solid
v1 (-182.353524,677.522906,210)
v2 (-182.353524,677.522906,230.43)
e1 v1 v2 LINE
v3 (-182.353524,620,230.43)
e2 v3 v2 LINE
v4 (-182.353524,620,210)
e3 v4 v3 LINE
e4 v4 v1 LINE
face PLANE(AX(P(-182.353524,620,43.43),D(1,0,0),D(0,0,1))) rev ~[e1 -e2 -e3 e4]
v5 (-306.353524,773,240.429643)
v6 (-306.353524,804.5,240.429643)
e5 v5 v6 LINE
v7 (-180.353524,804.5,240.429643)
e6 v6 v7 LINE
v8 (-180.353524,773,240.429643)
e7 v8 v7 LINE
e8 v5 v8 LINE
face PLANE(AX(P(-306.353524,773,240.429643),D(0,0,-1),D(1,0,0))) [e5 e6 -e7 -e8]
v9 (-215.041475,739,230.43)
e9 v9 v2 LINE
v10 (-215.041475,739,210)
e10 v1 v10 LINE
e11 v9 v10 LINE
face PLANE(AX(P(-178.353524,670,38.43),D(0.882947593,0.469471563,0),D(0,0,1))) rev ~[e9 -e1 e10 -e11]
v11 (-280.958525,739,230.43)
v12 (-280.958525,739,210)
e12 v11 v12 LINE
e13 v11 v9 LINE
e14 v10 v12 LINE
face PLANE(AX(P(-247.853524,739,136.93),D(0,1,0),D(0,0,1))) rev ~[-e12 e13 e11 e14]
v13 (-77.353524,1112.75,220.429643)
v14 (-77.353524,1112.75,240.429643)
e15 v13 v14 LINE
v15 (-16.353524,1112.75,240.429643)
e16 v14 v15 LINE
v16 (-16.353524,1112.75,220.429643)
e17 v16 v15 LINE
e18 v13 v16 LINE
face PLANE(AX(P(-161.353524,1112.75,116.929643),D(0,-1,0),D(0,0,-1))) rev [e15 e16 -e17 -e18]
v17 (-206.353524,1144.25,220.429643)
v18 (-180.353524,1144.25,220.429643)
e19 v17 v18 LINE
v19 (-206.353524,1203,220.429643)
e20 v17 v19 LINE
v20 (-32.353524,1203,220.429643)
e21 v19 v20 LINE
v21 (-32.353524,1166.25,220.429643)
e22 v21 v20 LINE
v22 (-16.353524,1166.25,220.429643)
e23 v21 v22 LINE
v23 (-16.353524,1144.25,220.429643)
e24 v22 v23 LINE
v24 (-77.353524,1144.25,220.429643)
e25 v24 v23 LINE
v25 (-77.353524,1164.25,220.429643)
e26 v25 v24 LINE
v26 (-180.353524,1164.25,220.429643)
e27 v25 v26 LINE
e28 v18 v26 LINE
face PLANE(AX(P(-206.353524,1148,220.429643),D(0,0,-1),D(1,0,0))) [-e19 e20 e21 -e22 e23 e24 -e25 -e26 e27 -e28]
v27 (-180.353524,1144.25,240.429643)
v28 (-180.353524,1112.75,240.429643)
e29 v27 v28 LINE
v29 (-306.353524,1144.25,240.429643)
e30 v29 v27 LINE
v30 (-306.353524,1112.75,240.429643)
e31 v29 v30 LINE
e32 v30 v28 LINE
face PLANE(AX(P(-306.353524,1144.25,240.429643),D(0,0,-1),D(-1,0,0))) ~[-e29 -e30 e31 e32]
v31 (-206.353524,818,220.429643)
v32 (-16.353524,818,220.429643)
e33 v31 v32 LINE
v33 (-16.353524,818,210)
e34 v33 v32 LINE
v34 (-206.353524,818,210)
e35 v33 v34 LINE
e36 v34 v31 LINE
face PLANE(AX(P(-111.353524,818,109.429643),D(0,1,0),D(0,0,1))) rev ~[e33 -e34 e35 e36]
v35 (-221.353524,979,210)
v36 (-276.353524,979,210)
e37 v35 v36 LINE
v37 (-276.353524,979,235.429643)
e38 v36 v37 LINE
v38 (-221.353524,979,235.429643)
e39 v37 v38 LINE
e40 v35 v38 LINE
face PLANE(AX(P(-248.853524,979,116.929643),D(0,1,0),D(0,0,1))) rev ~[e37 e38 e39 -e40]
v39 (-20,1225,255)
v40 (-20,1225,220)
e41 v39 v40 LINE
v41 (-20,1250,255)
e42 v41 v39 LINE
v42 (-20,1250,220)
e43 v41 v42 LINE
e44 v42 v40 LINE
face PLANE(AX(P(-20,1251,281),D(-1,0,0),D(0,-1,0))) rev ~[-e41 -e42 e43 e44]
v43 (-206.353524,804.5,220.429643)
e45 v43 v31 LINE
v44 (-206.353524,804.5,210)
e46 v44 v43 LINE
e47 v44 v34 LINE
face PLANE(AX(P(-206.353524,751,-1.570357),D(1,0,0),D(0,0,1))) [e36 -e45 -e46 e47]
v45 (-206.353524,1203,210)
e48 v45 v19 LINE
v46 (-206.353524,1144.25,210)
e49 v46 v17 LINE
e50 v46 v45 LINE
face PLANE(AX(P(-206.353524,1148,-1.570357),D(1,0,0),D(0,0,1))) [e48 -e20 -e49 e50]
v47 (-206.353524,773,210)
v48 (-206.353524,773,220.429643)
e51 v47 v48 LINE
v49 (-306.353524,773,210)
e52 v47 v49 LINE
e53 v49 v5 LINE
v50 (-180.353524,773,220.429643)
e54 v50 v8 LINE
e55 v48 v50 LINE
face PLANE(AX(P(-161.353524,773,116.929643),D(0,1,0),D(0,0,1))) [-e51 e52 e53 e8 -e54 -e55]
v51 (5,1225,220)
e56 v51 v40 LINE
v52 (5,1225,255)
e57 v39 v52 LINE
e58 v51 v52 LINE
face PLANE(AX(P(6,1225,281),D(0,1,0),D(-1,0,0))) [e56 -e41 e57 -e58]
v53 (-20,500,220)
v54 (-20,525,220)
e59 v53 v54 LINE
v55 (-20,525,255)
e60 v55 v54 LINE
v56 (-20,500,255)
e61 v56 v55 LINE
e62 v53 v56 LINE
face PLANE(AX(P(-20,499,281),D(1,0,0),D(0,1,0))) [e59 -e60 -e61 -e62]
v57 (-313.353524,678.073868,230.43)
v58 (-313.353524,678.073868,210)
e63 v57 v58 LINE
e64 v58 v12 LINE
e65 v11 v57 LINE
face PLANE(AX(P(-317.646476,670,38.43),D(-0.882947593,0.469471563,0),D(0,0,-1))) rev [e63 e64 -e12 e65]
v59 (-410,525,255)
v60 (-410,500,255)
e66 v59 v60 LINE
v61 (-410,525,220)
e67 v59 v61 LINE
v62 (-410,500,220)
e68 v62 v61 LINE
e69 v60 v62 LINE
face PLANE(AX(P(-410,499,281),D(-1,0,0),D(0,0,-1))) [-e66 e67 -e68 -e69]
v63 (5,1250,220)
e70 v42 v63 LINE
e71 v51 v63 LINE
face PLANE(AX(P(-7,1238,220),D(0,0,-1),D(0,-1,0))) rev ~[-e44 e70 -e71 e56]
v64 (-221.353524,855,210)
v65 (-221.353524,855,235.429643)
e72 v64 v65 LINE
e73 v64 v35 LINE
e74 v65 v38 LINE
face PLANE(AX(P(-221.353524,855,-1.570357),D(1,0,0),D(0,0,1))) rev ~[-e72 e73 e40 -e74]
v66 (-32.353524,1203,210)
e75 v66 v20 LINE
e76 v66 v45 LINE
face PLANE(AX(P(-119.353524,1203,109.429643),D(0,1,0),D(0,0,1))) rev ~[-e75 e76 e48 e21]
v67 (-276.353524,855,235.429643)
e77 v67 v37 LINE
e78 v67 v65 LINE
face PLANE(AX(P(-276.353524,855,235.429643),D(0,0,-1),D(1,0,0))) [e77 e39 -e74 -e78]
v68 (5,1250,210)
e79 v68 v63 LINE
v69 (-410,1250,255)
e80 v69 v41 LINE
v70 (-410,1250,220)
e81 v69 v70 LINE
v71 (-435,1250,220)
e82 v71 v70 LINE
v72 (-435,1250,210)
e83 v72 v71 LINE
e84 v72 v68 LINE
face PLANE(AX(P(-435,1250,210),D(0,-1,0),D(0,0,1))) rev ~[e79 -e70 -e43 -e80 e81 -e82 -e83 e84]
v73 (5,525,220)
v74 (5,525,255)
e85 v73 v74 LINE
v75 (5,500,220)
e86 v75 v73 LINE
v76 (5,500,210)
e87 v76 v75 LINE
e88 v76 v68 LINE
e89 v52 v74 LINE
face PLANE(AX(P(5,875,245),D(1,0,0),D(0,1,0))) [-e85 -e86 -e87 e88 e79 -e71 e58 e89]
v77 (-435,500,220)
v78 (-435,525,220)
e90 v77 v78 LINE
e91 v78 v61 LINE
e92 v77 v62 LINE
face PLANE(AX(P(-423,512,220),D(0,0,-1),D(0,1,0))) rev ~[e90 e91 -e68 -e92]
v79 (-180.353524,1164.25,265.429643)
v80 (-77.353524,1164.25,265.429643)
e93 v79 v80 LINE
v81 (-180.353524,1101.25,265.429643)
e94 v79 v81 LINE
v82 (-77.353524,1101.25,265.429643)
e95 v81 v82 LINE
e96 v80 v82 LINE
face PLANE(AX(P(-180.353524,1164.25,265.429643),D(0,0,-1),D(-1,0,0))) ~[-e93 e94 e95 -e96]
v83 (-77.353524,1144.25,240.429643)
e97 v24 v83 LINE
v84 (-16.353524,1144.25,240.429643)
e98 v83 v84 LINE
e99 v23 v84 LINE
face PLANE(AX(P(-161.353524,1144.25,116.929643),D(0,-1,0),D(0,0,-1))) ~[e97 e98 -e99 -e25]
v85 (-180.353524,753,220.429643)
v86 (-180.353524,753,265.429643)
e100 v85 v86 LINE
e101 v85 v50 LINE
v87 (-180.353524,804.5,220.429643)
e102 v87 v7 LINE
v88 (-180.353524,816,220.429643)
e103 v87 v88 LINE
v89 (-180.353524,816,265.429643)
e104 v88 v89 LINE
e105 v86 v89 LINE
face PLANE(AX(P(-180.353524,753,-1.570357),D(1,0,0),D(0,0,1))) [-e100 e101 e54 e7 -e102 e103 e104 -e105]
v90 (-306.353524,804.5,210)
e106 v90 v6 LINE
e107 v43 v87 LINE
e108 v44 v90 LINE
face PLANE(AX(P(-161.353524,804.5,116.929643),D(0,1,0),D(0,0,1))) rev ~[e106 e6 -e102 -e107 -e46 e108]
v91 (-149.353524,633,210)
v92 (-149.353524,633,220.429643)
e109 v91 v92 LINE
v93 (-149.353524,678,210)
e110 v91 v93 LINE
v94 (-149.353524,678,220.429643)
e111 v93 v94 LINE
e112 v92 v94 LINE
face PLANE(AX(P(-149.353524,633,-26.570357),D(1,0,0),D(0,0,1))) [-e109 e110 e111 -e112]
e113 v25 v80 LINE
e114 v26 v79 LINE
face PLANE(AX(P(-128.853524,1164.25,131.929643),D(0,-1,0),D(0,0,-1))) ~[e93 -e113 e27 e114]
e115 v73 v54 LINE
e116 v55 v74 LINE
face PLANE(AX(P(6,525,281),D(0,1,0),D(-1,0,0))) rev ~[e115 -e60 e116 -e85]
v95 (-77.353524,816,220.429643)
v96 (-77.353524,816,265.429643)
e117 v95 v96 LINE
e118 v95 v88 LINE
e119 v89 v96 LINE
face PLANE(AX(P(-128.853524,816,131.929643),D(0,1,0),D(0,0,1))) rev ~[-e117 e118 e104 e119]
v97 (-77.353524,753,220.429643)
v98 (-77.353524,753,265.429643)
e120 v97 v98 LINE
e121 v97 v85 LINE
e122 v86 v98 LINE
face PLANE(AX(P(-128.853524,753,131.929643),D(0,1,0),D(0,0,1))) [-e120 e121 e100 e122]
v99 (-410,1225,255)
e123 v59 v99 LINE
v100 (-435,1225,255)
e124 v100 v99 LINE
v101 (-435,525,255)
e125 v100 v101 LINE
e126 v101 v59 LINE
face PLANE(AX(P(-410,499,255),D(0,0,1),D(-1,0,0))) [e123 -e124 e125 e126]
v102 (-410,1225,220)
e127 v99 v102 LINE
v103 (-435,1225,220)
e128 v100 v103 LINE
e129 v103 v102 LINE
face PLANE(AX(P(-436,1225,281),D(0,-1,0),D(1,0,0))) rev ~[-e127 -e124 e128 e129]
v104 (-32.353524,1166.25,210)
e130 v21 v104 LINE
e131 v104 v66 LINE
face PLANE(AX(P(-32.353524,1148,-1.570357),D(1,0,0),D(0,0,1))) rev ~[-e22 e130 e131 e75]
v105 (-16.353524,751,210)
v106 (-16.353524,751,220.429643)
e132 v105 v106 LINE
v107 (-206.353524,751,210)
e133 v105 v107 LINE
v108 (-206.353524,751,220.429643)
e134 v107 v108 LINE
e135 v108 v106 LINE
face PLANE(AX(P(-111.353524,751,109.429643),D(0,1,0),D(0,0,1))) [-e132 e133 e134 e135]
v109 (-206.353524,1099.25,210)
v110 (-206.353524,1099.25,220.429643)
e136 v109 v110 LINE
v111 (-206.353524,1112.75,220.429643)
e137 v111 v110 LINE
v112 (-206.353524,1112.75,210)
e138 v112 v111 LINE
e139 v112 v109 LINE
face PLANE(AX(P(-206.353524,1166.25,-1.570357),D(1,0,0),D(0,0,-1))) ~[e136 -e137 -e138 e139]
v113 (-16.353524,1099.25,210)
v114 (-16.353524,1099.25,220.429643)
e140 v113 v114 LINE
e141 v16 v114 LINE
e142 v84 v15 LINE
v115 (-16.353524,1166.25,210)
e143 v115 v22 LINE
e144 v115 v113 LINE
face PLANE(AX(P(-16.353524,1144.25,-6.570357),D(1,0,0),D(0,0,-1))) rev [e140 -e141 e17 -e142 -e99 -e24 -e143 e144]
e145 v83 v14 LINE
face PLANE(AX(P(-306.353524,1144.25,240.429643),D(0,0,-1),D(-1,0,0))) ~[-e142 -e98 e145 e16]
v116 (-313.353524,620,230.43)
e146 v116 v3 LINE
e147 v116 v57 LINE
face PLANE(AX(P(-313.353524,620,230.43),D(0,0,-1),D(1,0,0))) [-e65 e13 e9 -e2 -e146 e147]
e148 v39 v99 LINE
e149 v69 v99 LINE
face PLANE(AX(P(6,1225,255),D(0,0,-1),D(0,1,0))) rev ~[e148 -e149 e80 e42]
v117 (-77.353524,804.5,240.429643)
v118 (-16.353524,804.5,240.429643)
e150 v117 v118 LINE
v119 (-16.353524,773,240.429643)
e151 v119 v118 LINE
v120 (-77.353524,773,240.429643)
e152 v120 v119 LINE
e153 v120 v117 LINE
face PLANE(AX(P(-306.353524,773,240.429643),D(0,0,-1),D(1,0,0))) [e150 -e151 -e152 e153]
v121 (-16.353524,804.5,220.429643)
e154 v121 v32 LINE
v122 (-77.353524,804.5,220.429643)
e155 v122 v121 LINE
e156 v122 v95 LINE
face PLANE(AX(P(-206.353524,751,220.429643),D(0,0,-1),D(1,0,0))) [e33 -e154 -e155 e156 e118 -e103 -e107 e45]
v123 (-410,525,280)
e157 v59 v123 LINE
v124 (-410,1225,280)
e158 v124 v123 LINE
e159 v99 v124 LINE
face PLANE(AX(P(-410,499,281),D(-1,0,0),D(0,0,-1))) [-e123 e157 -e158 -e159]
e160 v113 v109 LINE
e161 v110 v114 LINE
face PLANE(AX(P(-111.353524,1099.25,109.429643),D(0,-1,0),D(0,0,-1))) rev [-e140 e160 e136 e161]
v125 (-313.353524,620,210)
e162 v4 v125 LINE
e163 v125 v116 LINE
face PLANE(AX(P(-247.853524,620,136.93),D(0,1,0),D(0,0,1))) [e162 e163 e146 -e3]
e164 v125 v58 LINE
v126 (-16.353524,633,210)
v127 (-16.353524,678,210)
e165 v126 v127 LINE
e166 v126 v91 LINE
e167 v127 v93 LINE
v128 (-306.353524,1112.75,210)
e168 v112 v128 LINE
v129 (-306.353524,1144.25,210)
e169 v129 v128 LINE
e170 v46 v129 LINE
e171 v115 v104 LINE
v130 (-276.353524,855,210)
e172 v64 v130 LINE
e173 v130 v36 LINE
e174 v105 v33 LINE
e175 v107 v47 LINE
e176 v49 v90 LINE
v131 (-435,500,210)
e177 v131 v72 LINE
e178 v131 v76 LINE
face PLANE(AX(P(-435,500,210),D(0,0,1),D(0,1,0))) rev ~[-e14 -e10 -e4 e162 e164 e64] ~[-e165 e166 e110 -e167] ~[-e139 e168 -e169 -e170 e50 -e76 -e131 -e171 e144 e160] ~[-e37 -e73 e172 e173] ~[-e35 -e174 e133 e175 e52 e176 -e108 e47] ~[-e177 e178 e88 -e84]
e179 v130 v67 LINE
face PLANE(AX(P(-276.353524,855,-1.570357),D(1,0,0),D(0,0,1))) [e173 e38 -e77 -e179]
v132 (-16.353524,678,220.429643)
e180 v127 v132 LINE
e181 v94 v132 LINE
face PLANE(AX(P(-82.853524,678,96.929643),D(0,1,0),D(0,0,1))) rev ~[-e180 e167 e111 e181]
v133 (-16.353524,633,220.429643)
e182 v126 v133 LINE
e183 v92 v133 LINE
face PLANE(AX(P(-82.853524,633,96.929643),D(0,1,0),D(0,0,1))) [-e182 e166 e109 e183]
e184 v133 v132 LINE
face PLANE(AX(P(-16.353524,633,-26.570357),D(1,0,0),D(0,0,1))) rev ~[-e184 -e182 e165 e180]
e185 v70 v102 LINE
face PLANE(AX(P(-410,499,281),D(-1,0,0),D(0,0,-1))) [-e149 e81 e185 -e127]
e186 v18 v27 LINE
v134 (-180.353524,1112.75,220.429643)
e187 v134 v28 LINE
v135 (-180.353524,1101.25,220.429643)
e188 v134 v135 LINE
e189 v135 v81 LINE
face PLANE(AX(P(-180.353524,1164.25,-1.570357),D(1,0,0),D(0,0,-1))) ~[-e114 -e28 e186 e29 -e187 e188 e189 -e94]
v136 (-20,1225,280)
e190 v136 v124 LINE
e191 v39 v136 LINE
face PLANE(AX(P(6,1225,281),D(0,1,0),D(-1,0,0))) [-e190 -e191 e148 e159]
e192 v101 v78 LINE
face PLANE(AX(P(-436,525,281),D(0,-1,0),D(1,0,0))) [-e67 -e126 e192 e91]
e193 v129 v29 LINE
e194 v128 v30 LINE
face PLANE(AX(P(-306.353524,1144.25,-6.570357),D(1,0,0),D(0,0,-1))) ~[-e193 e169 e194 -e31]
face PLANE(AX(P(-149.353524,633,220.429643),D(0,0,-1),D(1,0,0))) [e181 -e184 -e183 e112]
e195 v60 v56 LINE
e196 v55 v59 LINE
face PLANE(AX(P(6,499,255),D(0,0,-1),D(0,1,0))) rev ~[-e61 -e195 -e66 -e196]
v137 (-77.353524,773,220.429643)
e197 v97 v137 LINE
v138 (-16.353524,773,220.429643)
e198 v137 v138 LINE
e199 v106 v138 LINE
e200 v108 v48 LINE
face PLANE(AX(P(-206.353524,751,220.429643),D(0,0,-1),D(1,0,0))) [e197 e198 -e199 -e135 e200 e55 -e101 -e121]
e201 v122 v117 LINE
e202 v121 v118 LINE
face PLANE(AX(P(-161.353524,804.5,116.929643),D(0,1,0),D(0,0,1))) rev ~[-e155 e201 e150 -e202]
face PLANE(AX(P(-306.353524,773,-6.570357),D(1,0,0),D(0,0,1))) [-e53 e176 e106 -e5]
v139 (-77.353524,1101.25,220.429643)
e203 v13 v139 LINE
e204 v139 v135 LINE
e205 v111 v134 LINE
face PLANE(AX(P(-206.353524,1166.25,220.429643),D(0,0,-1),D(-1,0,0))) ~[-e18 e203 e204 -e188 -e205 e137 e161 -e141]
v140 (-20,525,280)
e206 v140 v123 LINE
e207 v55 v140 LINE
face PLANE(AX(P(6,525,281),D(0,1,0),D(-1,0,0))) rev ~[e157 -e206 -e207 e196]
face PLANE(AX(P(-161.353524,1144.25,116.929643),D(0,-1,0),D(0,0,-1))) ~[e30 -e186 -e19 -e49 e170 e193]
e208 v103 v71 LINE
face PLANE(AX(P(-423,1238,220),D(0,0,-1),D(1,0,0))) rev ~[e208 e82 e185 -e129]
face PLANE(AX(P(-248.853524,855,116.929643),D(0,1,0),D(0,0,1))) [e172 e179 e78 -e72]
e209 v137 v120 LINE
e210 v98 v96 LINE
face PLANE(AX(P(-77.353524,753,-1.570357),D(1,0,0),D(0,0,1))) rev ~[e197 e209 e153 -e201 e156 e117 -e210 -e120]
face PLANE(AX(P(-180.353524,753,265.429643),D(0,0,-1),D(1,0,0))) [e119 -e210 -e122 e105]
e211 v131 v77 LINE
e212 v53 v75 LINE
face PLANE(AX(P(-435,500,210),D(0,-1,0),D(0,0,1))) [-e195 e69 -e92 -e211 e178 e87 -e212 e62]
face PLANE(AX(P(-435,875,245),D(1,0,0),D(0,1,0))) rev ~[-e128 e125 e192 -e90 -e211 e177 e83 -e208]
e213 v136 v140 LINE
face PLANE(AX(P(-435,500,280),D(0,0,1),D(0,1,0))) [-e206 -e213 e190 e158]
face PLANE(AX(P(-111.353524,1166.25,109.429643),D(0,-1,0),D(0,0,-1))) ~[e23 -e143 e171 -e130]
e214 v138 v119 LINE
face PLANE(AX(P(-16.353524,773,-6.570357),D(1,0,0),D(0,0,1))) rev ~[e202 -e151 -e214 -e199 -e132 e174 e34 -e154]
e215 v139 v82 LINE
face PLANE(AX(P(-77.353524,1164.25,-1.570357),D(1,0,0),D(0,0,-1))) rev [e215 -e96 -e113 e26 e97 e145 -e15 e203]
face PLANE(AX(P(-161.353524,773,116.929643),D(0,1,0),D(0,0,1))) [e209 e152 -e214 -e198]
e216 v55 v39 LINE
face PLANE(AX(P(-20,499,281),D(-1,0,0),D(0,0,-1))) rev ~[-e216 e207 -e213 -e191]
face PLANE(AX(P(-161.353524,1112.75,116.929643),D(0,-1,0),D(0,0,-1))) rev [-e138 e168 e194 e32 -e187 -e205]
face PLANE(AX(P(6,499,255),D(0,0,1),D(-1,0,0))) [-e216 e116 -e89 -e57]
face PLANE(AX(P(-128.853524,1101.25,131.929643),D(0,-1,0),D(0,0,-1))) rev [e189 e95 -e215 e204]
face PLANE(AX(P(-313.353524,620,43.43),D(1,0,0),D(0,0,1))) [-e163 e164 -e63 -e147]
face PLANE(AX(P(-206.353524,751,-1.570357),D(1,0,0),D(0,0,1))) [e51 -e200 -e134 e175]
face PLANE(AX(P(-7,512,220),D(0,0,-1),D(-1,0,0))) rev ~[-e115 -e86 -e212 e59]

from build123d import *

# Parameters (mm, degrees)
BOX160_W                  = 26
BOX160_H                  = 26
BOX160_DEPTH              = 61
BOX161_W                  = 26
BOX161_H                  = 26
BOX161_DEPTH              = 61
BOX162_W                  = 26
BOX162_H                  = 26
BOX162_DEPTH              = 61
BOX163_W                  = 26
BOX163_H                  = 26
BOX163_DEPTH              = 61
BOX164_W                  = 26
BOX164_H                  = 26
BOX164_DEPTH              = 442
BOX165_W                  = 26
BOX165_H                  = 26
BOX165_DEPTH              = 442
BOX166_W                  = 26
BOX166_H                  = 26
BOX166_DEPTH              = 752
BOX167_W                  = 26
BOX167_H                  = 26
BOX167_DEPTH              = 752
FUSION056_PLACEMENT_ANGLE = 180
BOX129_W                  = 247
BOX129_H                  = 133
BOX129_DEPTH              = 45
BOX123_W                  = 205
BOX123_H                  = 131
BOX123_DEPTH              = 119
BOX123_ROLL_ANGLE         = 118
BOX123_PLACEMENT_ANGLE    = 180
BOX122_W                  = 187
BOX122_H                  = 131
BOX122_DEPTH              = 119
BOX099_W                  = 222
BOX099_H                  = 190
BOX099_DEPTH              = 67
BOX100_W                  = 247
BOX100_H                  = 290
BOX100_DEPTH              = 31.5
BOX098_W                  = 267
BOX098_H                  = 103
BOX098_DEPTH              = 63
BOX128_W                  = 222
BOX128_H                  = 174
BOX128_DEPTH              = 55
BOX114_W                  = 222
BOX114_H                  = 190
BOX114_DEPTH              = 67
BOX115_W                  = 247
BOX115_H                  = 290
BOX115_DEPTH              = 31.5
BOX113_W                  = 267
BOX113_H                  = 103
BOX113_DEPTH              = 63
BOX120_W                  = 237
BOX120_H                  = 55
BOX120_DEPTH              = 124
BOX130_W                  = 750
BOX130_H                  = 70
BOX130_DEPTH              = 440
CUT025_PLACEMENT_ANGLE    = 90


with BuildPart() as cube120:
    # Box160 → Box160 (new body)
    with BuildSketch(Plane(origin=(238, -256, -232), x_dir=(0, 0, 1), z_dir=(-1, 0, 0))):
        with Locations((13, 13)):
            Rectangle(BOX160_W, BOX160_H)
    extrude(amount=BOX160_DEPTH)


with BuildPart() as cube121:
    # Box161 → Box161 (new body)
    with BuildSketch(Plane(origin=(238, -256, 210), x_dir=(0, 1, 0), z_dir=(-1, 0, 0))):
        with Locations((13, 13)):
            Rectangle(BOX161_W, BOX161_H)
    extrude(amount=BOX161_DEPTH)


with BuildPart() as cube122:
    # Box162 → Box162 (new body)
    with BuildSketch(Plane(origin=(238, 496, -232), x_dir=(0, -1, 0), z_dir=(-1, 0, 0))):
        with Locations((13, 13)):
            Rectangle(BOX162_W, BOX162_H)
    extrude(amount=BOX162_DEPTH)


with BuildPart() as cube123:
    # Box163 → Box163 (new body)
    with BuildSketch(Plane(origin=(238, 496, 210), x_dir=(0, 0, -1), z_dir=(-1, 0, 0))):
        with Locations((13, 13)):
            Rectangle(BOX163_W, BOX163_H)
    extrude(amount=BOX163_DEPTH)


with BuildPart() as cube124:
    # Box164 → Box164 (new body)
    with BuildSketch(Plane(origin=(238, 496, 210), x_dir=(0, -1, 0), z_dir=(0, 0, -1))):
        with Locations((13, 13)):
            Rectangle(BOX164_W, BOX164_H)
    extrude(amount=BOX164_DEPTH)


with BuildPart() as cube125:
    # Box165 → Box165 (new body)
    with BuildSketch(Plane(origin=(238, -230, 210), x_dir=(0, -1, 0), z_dir=(0, 0, -1))):
        with Locations((13, 13)):
            Rectangle(BOX165_W, BOX165_H)
    extrude(amount=BOX165_DEPTH)


with BuildPart() as cube126:
    # Box166 → Box166 (new body)
    with BuildSketch(Plane(origin=(238, 496, 210), x_dir=(-1, 0, 0), z_dir=(0, -1, 0))):
        with Locations((13, 13)):
            Rectangle(BOX166_W, BOX166_H)
    extrude(amount=BOX166_DEPTH)


with BuildPart() as supportbeams001:
    # Box167 → Box167 (new body)
    with BuildSketch(Plane(origin=(238, 496, -206), x_dir=(-1, 0, 0), z_dir=(0, -1, 0))):
        with Locations((13, 13)):
            Rectangle(BOX167_W, BOX167_H)
    extrude(amount=BOX167_DEPTH)

    # Fusion056: union Cube120, Cube121, Cube122, Cube123, Cube124, Cube125, Cube126
    add(cube120.part)
    add(cube121.part)
    add(cube122.part)
    add(cube123.part)
    add(cube124.part)
    add(cube125.part)
    add(cube126.part)


with BuildPart() as supportbeams001_1:
    # Fusion056 placement: moved
    add(supportbeams001.part.moved(Location((172, 240, 0))).rotate(Axis((172, 240, 0), (0, 0, 1)), FUSION056_PLACEMENT_ANGLE))


with BuildPart() as f_120_envelope007:
    # Box129 → Box129 (new body)
    with BuildSketch(Plane(origin=(241.570357, -122, 54.646476), x_dir=(-1, 0, 0), z_dir=(0, 1, 0))):
        with Locations((123.5, 66.5)):
            Rectangle(BOX129_W, BOX129_H)
    extrude(amount=BOX129_DEPTH)


with BuildPart() as pocket009:
    # Box123 → Box123 (new body)
    with BuildSketch(Plane.XY):
        with Locations((102.5, 65.5)):
            Rectangle(BOX123_W, BOX123_H)
    extrude(amount=BOX123_DEPTH)


with BuildPart() as pocket009_1:
    # Box123 roll: moved
    add(pocket009.part.rotate(Axis((0, 0, 0), (1, 0, 0)), BOX123_ROLL_ANGLE))


with BuildPart() as pocket009_2:
    # Box123 placement: moved
    add(pocket009_1.part.moved(Location((141.57, -85, 25.646476))).rotate(Axis((141.57, -85, 25.646476), (0, 0, 1)), BOX123_PLACEMENT_ANGLE))


with BuildPart() as compound014:
    # Part__Mirroring003: instance of pocket009
    add(pocket009_2.part.mirror(Plane(origin=(0, 0, 0), x_dir=(0, 1, 0), z_dir=(0, 0, 1))))


with BuildPart() as compound014_1:
    # Compound014 placement: moved
    add(compound014.part.moved(Location((0, 0, -88))))


with BuildPart() as fusion043:
    # Fusion043 base: copy of pocket009
    add(pocket009_2.part)

    # Fusion043: union Compound014
    add(compound014_1.part)


with BuildPart() as prism002:
    # Box122 → Box122 (new body)
    with BuildSketch(Plane(origin=(136.57, -135, -109.353524), x_dir=(-1, 0, 0), z_dir=(0, 1, 0))):
        with Locations((93.5, 65.5)):
            Rectangle(BOX122_W, BOX122_H)
    extrude(amount=BOX122_DEPTH)

    # Cut020: cut Fusion043
    add(fusion043.part, mode=Mode.SUBTRACT)


with BuildPart() as prism002_1:
    # Cut020 placement: moved
    add(prism002.part.moved(Location((35, 0, 0))))


with BuildPart() as cube073:
    # Box099 → Box099 (new body)
    with BuildSketch(Plane(origin=(216.570357, -4, -2.353524), x_dir=(-1, 0, 0), z_dir=(0, 1, 0))):
        with Locations((111, 95)):
            Rectangle(BOX099_W, BOX099_H)
    extrude(amount=BOX099_DEPTH)


with BuildPart() as cube074:
    # Box100 → Box100 (new body)
    with BuildSketch(Plane(origin=(221.570357, 18, -102.353524), x_dir=(-1, 0, 0), z_dir=(0, 1, 0))):
        with Locations((123.5, 145)):
            Rectangle(BOX100_W, BOX100_H)
    extrude(amount=BOX100_DEPTH)


with BuildPart() as standard_envelope002:
    # Box098 → Box098 (new body)
    with BuildSketch(Plane(origin=(216.570357, -2, 23.646476), x_dir=(-1, 0, 0), z_dir=(0, 1, 0))):
        with Locations((133.5, 51.5)):
            Rectangle(BOX098_W, BOX098_H)
    extrude(amount=BOX098_DEPTH)

    # Fusion036: union Cube073, Cube074
    add(cube073.part)
    add(cube074.part)


with BuildPart() as mattglass_envelope001:
    # Box128 → Box128 (new body)
    with BuildSketch(Plane(origin=(216.570357, 393, -2.353524), x_dir=(-1, 0, 0), z_dir=(0, 1, 0))):
        with Locations((111, 87)):
            Rectangle(BOX128_W, BOX128_H)
    extrude(amount=BOX128_DEPTH)


with BuildPart() as cube088:
    # Box114 → Box114 (new body)
    with BuildSketch(Plane(origin=(216.570357, -4, -2.353524), x_dir=(-1, 0, 0), z_dir=(0, 1, 0))):
        with Locations((111, 95)):
            Rectangle(BOX114_W, BOX114_H)
    extrude(amount=BOX114_DEPTH)


with BuildPart() as cube089:
    # Box115 → Box115 (new body)
    with BuildSketch(Plane(origin=(221.570357, 18, -102.353524), x_dir=(-1, 0, 0), z_dir=(0, 1, 0))):
        with Locations((123.5, 145)):
            Rectangle(BOX115_W, BOX115_H)
    extrude(amount=BOX115_DEPTH)


with BuildPart() as standard_envelope003:
    # Box113 → Box113 (new body)
    with BuildSketch(Plane(origin=(216.570357, -2, 23.646476), x_dir=(-1, 0, 0), z_dir=(0, 1, 0))):
        with Locations((133.5, 51.5)):
            Rectangle(BOX113_W, BOX113_H)
    extrude(amount=BOX113_DEPTH)

    # Fusion042: union Cube088, Cube089
    add(cube088.part)
    add(cube089.part)


with BuildPart() as fusion053:
    # Part__Mirroring002: instance of Standard envelope003
    add(standard_envelope003.part.mirror(Plane(origin=(0, 0, 0), x_dir=(1, 0, 0), z_dir=(0, 1, 0))))


with BuildPart() as fusion053_1:
    # Part__Mirroring002 placement: moved
    add(fusion053.part.moved(Location((0, 407.25, 0))))

    # Fusion053: union mattglass envelope001
    add(mattglass_envelope001.part)


with BuildPart() as fusion054:
    # Box120 → Box120 (new body)
    with BuildSketch(Plane(origin=(216.570357, 100, -72.353524), x_dir=(-1, 0, 0), z_dir=(0, 1, 0))):
        with Locations((118.5, 27.5)):
            Rectangle(BOX120_W, BOX120_H)
    extrude(amount=BOX120_DEPTH)

    # Fusion054: union 120 envelope007, prism002, Standard envelope002, Fusion053
    add(f_120_envelope007.part)
    add(prism002_1.part)
    add(standard_envelope002.part)
    add(fusion053_1.part)


with BuildPart() as cut025:
    # Box130 → Box130 (new body)
    with BuildSketch(Plane(origin=(5, -255, -231), x_dir=(0, 1, 0), z_dir=(0, 0, 1))):
        with Locations((375, 35)):
            Rectangle(BOX130_W, BOX130_H)
    extrude(amount=BOX130_DEPTH)

    # Cut024: cut Fusion054
    add(fusion054.part, mode=Mode.SUBTRACT)

    # Cut025: cut Supportbeams001
    add(supportbeams001_1.part, mode=Mode.SUBTRACT)


with BuildPart() as cut025_1:
    # Cut025 placement: moved
    add(cut025.part.moved(Location((-204, 755, 215))).rotate(Axis((-204, 755, 215), (0, 1, 0)), CUT025_PLACEMENT_ANGLE))


solid = cut025_1.part
